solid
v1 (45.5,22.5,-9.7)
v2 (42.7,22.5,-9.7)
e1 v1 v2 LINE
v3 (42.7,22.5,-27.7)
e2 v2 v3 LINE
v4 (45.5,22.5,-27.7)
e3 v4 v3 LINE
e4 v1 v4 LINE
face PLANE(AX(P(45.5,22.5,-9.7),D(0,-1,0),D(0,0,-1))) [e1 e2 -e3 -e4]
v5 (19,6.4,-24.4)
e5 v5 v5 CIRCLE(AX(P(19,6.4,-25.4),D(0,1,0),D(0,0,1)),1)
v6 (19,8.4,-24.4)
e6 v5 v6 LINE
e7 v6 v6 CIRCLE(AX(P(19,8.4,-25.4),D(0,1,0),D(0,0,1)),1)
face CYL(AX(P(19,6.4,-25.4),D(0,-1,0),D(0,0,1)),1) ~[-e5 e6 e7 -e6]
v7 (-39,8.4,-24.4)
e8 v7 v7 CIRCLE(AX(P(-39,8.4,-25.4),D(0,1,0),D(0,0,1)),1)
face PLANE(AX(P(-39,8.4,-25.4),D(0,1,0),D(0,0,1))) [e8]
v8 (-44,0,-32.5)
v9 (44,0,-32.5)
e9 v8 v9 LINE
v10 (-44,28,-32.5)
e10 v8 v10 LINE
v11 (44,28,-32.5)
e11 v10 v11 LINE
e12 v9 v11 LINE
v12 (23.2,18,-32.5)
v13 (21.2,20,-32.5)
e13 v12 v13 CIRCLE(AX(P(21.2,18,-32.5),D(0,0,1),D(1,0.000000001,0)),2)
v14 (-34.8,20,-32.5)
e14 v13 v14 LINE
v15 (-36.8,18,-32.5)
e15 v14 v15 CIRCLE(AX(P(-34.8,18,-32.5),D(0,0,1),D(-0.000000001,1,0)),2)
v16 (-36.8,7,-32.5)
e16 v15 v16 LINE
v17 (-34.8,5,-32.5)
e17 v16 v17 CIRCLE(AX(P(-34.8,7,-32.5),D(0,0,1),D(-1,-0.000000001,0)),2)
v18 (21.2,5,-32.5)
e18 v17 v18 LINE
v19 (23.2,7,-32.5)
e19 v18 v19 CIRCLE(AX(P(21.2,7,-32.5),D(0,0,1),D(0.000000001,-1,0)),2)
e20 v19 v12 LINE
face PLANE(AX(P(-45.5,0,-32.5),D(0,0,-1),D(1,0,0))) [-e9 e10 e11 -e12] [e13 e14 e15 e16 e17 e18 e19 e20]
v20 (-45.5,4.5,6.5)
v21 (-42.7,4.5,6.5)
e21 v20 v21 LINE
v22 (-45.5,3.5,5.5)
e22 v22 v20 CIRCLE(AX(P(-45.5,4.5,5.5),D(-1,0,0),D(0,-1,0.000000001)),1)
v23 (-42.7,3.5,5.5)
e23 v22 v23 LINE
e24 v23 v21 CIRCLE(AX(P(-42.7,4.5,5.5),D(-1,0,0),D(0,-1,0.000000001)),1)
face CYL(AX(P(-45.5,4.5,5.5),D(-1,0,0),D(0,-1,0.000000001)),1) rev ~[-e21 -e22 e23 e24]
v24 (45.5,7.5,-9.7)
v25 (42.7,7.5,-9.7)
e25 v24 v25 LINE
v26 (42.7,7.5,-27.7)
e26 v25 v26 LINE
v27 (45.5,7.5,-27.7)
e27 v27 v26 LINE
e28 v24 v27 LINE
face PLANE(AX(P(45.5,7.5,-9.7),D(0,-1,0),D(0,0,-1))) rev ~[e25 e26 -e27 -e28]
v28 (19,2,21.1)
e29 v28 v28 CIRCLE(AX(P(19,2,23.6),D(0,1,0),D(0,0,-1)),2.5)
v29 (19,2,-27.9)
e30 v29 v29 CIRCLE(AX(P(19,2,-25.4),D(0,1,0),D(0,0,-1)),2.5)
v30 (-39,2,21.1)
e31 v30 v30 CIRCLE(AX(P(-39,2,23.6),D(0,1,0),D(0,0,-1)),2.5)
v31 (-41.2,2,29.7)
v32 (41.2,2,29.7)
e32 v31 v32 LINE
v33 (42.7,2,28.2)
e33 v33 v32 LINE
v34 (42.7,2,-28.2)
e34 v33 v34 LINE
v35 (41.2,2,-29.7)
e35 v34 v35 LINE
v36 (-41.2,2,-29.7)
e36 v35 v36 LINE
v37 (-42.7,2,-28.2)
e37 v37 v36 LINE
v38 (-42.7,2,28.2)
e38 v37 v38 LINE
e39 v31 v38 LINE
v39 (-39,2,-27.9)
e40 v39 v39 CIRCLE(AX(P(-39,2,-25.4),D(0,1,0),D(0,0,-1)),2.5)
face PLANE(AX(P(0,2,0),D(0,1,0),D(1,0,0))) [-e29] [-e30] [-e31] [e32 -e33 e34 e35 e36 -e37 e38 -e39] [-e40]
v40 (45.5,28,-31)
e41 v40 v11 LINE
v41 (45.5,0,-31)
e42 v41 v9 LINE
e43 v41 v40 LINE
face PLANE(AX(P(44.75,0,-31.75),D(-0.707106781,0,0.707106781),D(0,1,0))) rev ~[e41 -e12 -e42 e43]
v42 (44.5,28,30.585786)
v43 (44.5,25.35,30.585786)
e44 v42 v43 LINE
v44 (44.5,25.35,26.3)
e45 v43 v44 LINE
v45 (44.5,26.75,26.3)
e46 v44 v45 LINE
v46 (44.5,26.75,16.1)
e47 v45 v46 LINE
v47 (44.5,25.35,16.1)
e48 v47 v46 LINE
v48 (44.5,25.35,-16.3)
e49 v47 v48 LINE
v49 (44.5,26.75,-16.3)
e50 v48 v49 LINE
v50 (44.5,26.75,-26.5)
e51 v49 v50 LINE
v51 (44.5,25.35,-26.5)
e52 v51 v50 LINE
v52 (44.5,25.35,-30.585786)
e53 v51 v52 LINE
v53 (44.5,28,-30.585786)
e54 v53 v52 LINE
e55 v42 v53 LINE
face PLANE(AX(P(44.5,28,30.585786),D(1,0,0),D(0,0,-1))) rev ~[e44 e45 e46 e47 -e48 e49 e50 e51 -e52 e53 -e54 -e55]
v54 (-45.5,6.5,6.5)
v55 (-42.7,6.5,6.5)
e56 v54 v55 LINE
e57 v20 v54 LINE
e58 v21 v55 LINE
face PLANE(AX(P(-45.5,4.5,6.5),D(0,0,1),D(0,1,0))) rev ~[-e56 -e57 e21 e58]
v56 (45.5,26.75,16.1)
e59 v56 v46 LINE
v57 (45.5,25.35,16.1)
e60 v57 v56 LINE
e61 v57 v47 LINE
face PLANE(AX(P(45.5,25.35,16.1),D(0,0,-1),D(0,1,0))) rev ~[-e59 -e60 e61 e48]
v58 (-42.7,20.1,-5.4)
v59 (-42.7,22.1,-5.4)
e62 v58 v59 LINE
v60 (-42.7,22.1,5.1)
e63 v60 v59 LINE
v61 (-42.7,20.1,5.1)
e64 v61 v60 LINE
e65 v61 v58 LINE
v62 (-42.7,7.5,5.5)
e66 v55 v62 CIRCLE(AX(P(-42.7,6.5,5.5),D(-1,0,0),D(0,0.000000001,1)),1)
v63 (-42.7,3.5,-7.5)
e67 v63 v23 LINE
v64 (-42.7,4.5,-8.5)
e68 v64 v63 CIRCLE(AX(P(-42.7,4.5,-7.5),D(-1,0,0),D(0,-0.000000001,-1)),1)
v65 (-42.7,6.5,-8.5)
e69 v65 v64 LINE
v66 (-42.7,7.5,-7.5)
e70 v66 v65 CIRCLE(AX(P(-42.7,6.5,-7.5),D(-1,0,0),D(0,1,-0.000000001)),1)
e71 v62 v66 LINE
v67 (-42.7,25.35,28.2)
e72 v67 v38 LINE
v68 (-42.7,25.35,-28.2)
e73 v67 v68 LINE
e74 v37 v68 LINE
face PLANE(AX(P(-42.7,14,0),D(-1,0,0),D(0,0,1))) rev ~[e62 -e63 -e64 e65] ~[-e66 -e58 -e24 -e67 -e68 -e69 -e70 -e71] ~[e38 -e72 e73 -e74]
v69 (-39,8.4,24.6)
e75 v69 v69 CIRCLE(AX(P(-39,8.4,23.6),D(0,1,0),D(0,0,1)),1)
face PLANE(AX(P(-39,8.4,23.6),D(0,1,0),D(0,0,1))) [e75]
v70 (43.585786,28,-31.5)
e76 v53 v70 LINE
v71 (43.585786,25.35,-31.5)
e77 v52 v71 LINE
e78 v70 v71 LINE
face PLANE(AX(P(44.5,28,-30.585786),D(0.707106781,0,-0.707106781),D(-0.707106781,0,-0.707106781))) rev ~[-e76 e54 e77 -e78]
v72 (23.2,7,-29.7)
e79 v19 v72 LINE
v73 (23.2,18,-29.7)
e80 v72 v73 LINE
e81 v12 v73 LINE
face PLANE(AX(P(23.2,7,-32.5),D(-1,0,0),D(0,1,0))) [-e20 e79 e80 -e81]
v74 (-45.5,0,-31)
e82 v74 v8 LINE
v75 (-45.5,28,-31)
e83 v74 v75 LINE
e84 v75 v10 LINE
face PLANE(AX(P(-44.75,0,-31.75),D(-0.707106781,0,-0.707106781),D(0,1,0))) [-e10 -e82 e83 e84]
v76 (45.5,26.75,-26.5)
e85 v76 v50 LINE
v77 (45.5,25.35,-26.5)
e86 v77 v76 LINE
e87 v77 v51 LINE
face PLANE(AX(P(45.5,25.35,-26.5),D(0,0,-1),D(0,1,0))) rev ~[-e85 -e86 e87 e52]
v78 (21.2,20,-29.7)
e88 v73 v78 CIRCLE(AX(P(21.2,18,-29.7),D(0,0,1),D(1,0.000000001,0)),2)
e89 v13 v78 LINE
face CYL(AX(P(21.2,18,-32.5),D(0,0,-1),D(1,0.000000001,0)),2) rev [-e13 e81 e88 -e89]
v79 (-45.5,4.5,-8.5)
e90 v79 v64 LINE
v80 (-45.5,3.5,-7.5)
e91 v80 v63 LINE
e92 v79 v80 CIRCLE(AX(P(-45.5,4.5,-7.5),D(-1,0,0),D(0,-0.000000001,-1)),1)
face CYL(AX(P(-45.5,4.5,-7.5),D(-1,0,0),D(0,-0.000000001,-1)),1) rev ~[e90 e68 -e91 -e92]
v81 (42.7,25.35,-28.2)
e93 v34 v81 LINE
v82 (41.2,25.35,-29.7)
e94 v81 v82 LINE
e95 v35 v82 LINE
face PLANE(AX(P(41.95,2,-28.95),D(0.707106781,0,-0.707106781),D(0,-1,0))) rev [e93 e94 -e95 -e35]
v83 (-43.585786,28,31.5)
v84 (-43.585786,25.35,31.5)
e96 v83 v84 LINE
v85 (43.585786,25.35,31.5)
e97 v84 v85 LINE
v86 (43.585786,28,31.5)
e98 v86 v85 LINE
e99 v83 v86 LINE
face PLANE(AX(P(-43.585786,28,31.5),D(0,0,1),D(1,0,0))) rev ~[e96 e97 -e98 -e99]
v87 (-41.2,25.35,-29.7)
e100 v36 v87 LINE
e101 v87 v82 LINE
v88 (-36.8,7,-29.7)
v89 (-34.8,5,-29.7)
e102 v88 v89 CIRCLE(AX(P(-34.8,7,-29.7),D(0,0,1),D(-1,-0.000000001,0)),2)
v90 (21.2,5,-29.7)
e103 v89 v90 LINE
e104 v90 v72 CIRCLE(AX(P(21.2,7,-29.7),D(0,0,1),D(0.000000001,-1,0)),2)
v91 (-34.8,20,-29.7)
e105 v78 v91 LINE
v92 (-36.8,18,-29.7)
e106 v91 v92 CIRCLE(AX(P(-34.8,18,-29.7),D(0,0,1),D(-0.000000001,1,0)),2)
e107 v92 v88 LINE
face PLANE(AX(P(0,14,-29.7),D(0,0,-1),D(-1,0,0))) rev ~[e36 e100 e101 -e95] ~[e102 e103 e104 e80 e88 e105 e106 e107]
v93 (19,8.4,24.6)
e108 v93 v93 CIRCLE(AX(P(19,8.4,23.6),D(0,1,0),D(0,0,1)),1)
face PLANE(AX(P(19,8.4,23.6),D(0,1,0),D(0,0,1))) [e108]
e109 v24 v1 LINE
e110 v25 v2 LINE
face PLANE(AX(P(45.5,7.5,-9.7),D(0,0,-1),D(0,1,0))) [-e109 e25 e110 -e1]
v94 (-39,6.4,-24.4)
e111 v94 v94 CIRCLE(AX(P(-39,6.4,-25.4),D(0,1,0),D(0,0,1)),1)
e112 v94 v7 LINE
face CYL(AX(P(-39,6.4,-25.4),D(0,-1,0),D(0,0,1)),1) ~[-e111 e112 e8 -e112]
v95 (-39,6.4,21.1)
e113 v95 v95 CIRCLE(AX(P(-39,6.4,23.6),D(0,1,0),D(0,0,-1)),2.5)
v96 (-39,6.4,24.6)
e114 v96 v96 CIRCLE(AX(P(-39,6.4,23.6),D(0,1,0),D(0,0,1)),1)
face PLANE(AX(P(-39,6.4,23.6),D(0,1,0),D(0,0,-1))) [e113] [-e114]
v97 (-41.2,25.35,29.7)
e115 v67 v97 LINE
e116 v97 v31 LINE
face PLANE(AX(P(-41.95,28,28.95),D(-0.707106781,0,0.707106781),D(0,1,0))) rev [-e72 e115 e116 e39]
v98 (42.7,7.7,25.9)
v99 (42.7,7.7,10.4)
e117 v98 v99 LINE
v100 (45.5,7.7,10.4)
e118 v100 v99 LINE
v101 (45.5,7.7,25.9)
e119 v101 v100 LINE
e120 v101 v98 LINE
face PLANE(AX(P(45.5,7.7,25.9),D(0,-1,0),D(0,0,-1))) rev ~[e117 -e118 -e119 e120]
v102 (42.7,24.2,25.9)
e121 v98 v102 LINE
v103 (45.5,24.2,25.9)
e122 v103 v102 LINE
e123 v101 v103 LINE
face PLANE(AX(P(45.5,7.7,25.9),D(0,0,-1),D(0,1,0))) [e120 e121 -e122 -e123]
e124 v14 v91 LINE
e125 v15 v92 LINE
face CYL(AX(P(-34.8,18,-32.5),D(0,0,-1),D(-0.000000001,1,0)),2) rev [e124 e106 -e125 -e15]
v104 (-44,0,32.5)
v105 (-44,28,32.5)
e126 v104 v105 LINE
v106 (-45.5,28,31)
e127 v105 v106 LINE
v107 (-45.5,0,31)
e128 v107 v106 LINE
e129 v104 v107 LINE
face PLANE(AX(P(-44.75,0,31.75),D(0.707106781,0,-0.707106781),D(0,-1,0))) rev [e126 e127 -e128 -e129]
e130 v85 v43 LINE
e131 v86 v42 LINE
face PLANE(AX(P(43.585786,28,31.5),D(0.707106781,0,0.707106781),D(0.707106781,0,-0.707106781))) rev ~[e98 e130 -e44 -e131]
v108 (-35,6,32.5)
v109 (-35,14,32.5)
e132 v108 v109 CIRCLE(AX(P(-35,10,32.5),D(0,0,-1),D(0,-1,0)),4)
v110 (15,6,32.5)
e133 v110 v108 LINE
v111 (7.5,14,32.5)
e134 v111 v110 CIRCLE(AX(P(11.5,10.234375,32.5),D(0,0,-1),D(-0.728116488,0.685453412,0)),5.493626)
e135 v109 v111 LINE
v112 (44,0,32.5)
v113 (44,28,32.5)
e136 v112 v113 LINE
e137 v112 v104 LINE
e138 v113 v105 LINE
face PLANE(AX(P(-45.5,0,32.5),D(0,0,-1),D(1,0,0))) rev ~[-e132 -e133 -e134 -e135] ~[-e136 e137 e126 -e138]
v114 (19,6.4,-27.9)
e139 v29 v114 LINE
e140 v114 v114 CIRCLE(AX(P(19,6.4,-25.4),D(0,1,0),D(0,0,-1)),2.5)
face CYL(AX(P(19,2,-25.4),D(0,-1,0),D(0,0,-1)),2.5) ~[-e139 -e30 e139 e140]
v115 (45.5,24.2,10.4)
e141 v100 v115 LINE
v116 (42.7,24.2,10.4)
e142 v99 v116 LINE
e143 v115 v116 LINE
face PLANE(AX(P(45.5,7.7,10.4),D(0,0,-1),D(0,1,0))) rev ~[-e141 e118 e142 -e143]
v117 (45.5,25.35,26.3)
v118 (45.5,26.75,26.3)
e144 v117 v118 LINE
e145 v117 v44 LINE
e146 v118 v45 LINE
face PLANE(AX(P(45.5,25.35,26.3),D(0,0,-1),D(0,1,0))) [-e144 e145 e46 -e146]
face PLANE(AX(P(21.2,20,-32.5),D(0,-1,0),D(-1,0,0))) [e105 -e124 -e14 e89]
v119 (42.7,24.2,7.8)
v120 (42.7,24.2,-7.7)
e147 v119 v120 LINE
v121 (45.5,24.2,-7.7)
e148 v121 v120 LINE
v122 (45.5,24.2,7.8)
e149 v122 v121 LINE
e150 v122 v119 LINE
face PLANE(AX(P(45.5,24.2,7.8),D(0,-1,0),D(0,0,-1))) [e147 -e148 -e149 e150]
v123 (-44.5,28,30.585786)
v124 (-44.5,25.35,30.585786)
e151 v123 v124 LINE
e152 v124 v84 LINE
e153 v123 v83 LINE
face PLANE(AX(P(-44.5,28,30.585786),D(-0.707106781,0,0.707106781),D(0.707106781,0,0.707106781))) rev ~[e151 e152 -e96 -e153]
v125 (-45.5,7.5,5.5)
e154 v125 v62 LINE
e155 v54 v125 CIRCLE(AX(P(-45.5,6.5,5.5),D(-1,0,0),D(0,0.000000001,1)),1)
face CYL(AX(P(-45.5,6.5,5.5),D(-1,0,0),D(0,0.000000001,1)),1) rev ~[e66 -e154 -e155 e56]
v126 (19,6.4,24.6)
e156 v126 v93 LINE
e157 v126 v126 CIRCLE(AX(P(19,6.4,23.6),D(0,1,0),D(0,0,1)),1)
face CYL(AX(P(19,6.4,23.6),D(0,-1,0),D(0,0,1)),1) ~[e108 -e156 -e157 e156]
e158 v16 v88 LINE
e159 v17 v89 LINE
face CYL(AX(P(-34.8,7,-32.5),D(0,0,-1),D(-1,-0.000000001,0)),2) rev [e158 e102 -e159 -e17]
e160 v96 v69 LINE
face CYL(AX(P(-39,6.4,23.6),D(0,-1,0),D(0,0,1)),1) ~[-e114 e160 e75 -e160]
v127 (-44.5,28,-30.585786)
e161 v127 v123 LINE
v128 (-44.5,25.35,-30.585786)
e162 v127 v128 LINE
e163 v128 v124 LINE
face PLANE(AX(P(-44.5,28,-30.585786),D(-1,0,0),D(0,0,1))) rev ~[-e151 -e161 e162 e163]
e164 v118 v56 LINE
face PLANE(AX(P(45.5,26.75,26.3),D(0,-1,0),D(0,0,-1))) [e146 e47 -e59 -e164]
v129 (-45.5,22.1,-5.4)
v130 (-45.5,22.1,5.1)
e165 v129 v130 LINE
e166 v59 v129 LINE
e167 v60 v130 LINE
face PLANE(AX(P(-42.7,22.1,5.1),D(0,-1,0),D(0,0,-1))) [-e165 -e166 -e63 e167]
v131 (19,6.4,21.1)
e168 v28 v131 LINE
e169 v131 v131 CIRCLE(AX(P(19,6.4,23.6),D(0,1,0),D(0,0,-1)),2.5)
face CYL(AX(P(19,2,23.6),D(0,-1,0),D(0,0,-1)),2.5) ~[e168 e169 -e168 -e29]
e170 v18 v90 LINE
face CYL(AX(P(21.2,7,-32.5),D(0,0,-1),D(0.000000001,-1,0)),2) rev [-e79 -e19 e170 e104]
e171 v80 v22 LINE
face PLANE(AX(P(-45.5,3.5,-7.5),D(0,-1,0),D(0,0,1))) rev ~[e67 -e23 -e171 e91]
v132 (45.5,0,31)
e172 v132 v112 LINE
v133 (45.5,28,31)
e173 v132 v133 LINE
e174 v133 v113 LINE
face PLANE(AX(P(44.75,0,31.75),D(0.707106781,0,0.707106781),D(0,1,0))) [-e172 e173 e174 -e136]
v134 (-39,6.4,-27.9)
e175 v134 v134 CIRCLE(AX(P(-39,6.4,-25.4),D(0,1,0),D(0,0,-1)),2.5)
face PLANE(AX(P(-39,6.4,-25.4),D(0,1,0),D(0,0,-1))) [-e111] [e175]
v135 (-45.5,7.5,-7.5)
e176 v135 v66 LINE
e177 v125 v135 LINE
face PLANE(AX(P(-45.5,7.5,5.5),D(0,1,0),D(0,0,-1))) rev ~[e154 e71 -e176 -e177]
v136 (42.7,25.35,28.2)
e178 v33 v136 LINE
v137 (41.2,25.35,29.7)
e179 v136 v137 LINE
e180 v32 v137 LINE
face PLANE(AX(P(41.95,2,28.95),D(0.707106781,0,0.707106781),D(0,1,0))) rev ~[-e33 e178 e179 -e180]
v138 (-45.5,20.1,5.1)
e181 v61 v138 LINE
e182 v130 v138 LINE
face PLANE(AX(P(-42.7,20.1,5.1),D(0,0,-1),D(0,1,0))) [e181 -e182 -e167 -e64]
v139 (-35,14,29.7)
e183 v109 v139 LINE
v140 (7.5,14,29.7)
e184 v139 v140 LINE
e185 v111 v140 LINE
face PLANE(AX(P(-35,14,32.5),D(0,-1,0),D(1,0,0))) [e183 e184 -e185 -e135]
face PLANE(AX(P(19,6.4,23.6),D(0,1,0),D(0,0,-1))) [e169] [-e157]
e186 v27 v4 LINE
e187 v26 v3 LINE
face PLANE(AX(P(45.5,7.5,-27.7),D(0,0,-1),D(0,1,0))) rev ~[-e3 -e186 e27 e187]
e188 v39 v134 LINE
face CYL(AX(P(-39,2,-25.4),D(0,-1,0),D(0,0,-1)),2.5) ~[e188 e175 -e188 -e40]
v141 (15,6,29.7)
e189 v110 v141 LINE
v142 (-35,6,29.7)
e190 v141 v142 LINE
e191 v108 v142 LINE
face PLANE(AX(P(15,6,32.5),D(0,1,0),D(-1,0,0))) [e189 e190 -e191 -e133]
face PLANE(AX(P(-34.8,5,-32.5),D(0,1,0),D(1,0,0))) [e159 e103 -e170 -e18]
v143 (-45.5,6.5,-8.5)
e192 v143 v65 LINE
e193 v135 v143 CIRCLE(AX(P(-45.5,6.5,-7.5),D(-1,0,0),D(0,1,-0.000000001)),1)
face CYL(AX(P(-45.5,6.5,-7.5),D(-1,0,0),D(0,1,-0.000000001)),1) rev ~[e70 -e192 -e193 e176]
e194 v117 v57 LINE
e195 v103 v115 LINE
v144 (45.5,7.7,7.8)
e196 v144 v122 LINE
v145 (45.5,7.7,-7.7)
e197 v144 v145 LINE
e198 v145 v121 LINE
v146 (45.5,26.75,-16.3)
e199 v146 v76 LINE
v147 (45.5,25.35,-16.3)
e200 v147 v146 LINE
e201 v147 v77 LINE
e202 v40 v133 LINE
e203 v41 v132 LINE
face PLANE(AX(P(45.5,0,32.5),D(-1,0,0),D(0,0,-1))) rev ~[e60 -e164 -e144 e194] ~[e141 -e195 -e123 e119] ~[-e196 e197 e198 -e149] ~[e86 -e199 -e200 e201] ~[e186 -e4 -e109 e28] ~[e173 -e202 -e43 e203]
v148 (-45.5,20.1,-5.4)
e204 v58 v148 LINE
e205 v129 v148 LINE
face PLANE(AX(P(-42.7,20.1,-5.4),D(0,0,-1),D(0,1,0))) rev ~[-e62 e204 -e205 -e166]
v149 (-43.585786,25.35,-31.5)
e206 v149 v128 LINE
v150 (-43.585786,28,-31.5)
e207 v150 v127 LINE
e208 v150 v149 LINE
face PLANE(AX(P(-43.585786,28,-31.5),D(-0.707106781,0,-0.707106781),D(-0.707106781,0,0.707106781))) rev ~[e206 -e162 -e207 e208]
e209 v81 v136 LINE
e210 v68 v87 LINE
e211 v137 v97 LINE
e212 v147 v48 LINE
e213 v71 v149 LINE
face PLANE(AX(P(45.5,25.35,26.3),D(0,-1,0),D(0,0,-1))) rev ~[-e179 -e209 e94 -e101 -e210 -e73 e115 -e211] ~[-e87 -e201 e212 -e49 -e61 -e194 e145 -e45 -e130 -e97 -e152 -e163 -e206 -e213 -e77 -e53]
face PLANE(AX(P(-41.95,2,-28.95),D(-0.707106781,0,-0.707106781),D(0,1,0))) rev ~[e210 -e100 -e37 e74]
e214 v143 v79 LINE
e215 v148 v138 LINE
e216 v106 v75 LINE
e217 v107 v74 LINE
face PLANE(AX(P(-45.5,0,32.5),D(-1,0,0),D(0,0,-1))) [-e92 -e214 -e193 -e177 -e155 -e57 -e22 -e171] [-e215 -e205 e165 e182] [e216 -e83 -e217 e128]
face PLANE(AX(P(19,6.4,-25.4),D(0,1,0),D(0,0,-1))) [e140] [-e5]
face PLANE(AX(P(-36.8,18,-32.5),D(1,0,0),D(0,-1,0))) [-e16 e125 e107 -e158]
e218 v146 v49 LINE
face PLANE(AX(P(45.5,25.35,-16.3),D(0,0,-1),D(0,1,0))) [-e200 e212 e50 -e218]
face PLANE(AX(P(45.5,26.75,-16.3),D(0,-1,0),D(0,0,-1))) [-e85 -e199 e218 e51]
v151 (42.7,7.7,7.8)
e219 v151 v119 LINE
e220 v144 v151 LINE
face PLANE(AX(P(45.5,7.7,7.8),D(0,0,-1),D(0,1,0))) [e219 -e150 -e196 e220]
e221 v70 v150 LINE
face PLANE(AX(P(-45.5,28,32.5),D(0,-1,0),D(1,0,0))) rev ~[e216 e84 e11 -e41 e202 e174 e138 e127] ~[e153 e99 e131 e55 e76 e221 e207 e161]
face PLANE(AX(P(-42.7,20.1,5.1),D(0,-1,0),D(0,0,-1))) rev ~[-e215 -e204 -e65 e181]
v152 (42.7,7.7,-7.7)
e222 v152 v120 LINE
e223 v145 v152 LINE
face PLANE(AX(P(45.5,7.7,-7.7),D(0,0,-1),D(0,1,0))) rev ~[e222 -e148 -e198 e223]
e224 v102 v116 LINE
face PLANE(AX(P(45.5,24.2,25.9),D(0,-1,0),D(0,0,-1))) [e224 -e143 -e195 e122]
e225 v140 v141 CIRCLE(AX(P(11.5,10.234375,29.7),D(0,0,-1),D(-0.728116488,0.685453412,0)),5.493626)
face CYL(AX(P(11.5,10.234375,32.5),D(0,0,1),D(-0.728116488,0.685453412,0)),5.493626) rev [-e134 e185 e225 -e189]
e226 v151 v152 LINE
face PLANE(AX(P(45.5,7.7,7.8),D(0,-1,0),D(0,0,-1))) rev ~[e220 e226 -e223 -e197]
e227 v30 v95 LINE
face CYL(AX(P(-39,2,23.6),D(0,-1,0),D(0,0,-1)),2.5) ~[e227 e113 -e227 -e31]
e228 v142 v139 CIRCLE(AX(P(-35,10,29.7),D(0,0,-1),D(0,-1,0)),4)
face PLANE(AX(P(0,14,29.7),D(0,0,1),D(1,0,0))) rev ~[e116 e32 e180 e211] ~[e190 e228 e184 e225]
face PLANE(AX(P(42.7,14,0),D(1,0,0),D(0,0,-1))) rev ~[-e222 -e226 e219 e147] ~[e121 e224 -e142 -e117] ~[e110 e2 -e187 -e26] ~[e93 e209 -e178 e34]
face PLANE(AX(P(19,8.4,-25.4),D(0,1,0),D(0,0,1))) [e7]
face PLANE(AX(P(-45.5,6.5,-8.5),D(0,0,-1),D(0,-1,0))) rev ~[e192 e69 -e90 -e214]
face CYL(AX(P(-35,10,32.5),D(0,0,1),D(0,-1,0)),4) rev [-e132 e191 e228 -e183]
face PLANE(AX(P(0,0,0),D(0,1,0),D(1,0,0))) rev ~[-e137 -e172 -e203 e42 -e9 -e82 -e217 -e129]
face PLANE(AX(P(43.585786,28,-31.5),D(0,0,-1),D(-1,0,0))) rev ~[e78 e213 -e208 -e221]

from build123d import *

# Parameters (mm, degrees)
SKETCH1_W           = 91
SKETCH1_H           = 65
BOSS_EXTRUDE1_DEPTH = 2
SKETCH2_R           = 2.5
BOSS_EXTRUDE2_DEPTH = 4.4
SKETCH3_R           = 1
BOSS_EXTRUDE3_DEPTH = 2
SKETCH4_W           = 91
SKETCH4_H           = 28
BOSS_EXTRUDE4_DEPTH = 2.8
SKETCH5_W           = 65
SKETCH5_H           = 28
SKETCH5_W_2         = 15.5
SKETCH5_H_2         = 16.5
SKETCH5_W_3         = 18
SKETCH5_H_3         = 15
BOSS_EXTRUDE5_DEPTH = 2.8
SKETCH6_W           = 91
SKETCH6_H           = 28
BOSS_EXTRUDE6_DEPTH = 2.8
SKETCH7_W           = 65
SKETCH7_H           = 28
BOSS_EXTRUDE7_DEPTH = 2.8
CHAMFER1_SIZE       = 1.5
CUT_EXTRUDE1_DEPTH  = 2.65
SKETCH11_W          = 10.5
SKETCH11_H          = 2
CUT_EXTRUDE2_DEPTH  = 3
SKETCH12_W          = 10.2
SKETCH12_H          = 1.4
CUT_EXTRUDE3_DEPTH  = 3


with BuildPart() as part:
    # Sketch1 → Boss-Extrude1 (new body)
    with BuildSketch(Plane(origin=(0, 0, 0), x_dir=(1, 0, 0), z_dir=(0, 1, 0))):
        Rectangle(SKETCH1_W, SKETCH1_H)
    extrude(amount=BOSS_EXTRUDE1_DEPTH)

    # Sketch2 → Boss-Extrude2 (add)
    with BuildSketch(Plane(origin=(0, 2, 0), x_dir=(1, 0, 0), z_dir=(0, 1, 0))):
        with Locations(Location((-39, -23.6, 0), (0, 0, 90))):
            Circle(SKETCH2_R)
        with Locations(Location((-39, 25.4, 0), (0, 0, 90))):
            Circle(SKETCH2_R)
        with Locations(Location((19, 25.4, 0), (0, 0, 90))):
            Circle(SKETCH2_R)
        with Locations(Location((19, -23.6, 0), (0, 0, 90))):
            Circle(SKETCH2_R)
    extrude(amount=BOSS_EXTRUDE2_DEPTH)

    # Sketch3 → Boss-Extrude3 (add)
    with BuildSketch(Plane(origin=(0, 6.4, 0), x_dir=(1, 0, 0), z_dir=(0, 1, 0))):
        with Locations(Location((-39, -23.6, 0), (0, 0, 270))):
            Circle(SKETCH3_R)
        with Locations(Location((-39, 25.4, 0), (0, 0, 270))):
            Circle(SKETCH3_R)
        with Locations(Location((19, 25.4, 0), (0, 0, 270))):
            Circle(SKETCH3_R)
        with Locations(Location((19, -23.6, 0), (0, 0, 270))):
            Circle(SKETCH3_R)
    extrude(amount=BOSS_EXTRUDE3_DEPTH)

    # Sketch4 → Boss-Extrude4 (add)
    with BuildSketch(Plane.XY.offset(32.5)):
        with Locations((0, 14)):
            Rectangle(SKETCH4_W, SKETCH4_H)
        with BuildLine():
            Line((-35, 14), (7.5, 14))
            ThreePointArc((7.5, 14), (15.507804885, 13.99169208), (15, 6))
            Line((15, 6), (-35, 6))
            ThreePointArc((-35, 6), (-39, 10), (-35, 14))
        make_face(mode=Mode.SUBTRACT)
    extrude(amount=-BOSS_EXTRUDE4_DEPTH)

    # Sketch5 → Boss-Extrude5 (add)
    with BuildSketch(Plane(origin=(45.5, 0, 0), x_dir=(0, 0, -1), z_dir=(1, 0, 0))):
        with Locations((0, 14)):
            Rectangle(SKETCH5_W, SKETCH5_H)
        with Locations((-18.15, 15.95)):
            Rectangle(SKETCH5_W_2, SKETCH5_H_2, mode=Mode.SUBTRACT)
        with Locations((-0.05, 15.95)):
            Rectangle(SKETCH5_W_2, SKETCH5_H_2, mode=Mode.SUBTRACT)
        with Locations((18.7, 15)):
            Rectangle(SKETCH5_W_3, SKETCH5_H_3, mode=Mode.SUBTRACT)
    extrude(amount=-BOSS_EXTRUDE5_DEPTH)

    # Sketch6 → Boss-Extrude6 (add)
    with BuildSketch(Plane(origin=(0, 0, -32.5), x_dir=(-1, 0, 0), z_dir=(0, 0, -1))):
        with Locations((0, 14)):
            Rectangle(SKETCH6_W, SKETCH6_H)
        with BuildLine():
            Line((-21.2, 20), (34.8, 20))
            ThreePointArc((34.8, 20), (36.214213562, 19.414213562), (36.8, 18))
            Line((36.8, 18), (36.8, 7))
            ThreePointArc((36.8, 7), (36.214213562, 5.585786438), (34.8, 5))
            Line((34.8, 5), (-21.2, 5))
            ThreePointArc((-21.2, 5), (-22.614213562, 5.585786438), (-23.2, 7))
            Line((-23.2, 7), (-23.2, 18))
            ThreePointArc((-23.2, 18), (-22.614213562, 19.414213562), (-21.2, 20))
        make_face(mode=Mode.SUBTRACT)
    extrude(amount=-BOSS_EXTRUDE6_DEPTH)

    # Sketch7 → Boss-Extrude7 (add)
    with BuildSketch(Plane.ZY.offset(45.5)):
        with Locations((0, 14)):
            Rectangle(SKETCH7_W, SKETCH7_H)
        with BuildLine():
            Line((-7.5, 3.5), (5.5, 3.5))
            ThreePointArc((5.5, 3.5), (6.207106781, 3.792893219), (6.5, 4.5))
            Line((6.5, 4.5), (6.5, 6.5))
            ThreePointArc((6.5, 6.5), (6.207106781, 7.207106781), (5.5, 7.5))
            Line((5.5, 7.5), (-7.5, 7.5))
            ThreePointArc((-7.5, 7.5), (-8.207106781, 7.207106781), (-8.5, 6.5))
            Line((-8.5, 6.5), (-8.5, 4.5))
            ThreePointArc((-8.5, 4.5), (-8.207106781, 3.792893219), (-7.5, 3.5))
        make_face(mode=Mode.SUBTRACT)
    extrude(amount=-BOSS_EXTRUDE7_DEPTH)

    # Chamfer1
    chamfer1_edges = [part.edges().sort_by_distance(p)[0] for p in [
        (42.7, 15, -29.7),
        (-42.7, 15, -29.7),
        (-42.7, 15, 29.7),
        (45.5, 14, 32.5),
        (-45.5, 14, 32.5),
        (-45.5, 14, -32.5),
        (45.5, 14, -32.5),
        (42.7, 15, 29.7),
    ]]
    chamfer(chamfer1_edges, length=CHAMFER1_SIZE)

    # Sketch8 → Cut-Extrude1 (cut)
    with BuildSketch(Plane(origin=(0, 28, 0), x_dir=(1, 0, 0), z_dir=(0, 1, 0))):
        Polygon((43.585786438, 31.5), (-43.585786438, 31.5), (-44.5, 30.585786438), (-44.5, -30.585786438), (-43.585786438, -31.5), (43.585786438, -31.5), (44.5, -30.585786438), (44.5, 30.585786438), align=None)
    extrude(amount=-CUT_EXTRUDE1_DEPTH, mode=Mode.SUBTRACT)

    # Sketch11 → Cut-Extrude2 (cut)
    with BuildSketch(Plane(origin=(-42.7, 0, 0), x_dir=(0, 0, -1), z_dir=(1, 0, 0))):
        with Locations((0.15, 21.1)):
            Rectangle(SKETCH11_W, SKETCH11_H)
    extrude(amount=-CUT_EXTRUDE2_DEPTH, mode=Mode.SUBTRACT)

    # Sketch12 → Cut-Extrude3 (cut)
    with BuildSketch(Plane(origin=(45.5, 0, 0), x_dir=(0, 0, -1), z_dir=(1, 0, 0))):
        with Locations((-21.2, 26.05)):
            Rectangle(SKETCH12_W, SKETCH12_H)
        with Locations((21.4, 26.05)):
            Rectangle(SKETCH12_W, SKETCH12_H)
    extrude(amount=-CUT_EXTRUDE3_DEPTH, mode=Mode.SUBTRACT)


solid = part.part
